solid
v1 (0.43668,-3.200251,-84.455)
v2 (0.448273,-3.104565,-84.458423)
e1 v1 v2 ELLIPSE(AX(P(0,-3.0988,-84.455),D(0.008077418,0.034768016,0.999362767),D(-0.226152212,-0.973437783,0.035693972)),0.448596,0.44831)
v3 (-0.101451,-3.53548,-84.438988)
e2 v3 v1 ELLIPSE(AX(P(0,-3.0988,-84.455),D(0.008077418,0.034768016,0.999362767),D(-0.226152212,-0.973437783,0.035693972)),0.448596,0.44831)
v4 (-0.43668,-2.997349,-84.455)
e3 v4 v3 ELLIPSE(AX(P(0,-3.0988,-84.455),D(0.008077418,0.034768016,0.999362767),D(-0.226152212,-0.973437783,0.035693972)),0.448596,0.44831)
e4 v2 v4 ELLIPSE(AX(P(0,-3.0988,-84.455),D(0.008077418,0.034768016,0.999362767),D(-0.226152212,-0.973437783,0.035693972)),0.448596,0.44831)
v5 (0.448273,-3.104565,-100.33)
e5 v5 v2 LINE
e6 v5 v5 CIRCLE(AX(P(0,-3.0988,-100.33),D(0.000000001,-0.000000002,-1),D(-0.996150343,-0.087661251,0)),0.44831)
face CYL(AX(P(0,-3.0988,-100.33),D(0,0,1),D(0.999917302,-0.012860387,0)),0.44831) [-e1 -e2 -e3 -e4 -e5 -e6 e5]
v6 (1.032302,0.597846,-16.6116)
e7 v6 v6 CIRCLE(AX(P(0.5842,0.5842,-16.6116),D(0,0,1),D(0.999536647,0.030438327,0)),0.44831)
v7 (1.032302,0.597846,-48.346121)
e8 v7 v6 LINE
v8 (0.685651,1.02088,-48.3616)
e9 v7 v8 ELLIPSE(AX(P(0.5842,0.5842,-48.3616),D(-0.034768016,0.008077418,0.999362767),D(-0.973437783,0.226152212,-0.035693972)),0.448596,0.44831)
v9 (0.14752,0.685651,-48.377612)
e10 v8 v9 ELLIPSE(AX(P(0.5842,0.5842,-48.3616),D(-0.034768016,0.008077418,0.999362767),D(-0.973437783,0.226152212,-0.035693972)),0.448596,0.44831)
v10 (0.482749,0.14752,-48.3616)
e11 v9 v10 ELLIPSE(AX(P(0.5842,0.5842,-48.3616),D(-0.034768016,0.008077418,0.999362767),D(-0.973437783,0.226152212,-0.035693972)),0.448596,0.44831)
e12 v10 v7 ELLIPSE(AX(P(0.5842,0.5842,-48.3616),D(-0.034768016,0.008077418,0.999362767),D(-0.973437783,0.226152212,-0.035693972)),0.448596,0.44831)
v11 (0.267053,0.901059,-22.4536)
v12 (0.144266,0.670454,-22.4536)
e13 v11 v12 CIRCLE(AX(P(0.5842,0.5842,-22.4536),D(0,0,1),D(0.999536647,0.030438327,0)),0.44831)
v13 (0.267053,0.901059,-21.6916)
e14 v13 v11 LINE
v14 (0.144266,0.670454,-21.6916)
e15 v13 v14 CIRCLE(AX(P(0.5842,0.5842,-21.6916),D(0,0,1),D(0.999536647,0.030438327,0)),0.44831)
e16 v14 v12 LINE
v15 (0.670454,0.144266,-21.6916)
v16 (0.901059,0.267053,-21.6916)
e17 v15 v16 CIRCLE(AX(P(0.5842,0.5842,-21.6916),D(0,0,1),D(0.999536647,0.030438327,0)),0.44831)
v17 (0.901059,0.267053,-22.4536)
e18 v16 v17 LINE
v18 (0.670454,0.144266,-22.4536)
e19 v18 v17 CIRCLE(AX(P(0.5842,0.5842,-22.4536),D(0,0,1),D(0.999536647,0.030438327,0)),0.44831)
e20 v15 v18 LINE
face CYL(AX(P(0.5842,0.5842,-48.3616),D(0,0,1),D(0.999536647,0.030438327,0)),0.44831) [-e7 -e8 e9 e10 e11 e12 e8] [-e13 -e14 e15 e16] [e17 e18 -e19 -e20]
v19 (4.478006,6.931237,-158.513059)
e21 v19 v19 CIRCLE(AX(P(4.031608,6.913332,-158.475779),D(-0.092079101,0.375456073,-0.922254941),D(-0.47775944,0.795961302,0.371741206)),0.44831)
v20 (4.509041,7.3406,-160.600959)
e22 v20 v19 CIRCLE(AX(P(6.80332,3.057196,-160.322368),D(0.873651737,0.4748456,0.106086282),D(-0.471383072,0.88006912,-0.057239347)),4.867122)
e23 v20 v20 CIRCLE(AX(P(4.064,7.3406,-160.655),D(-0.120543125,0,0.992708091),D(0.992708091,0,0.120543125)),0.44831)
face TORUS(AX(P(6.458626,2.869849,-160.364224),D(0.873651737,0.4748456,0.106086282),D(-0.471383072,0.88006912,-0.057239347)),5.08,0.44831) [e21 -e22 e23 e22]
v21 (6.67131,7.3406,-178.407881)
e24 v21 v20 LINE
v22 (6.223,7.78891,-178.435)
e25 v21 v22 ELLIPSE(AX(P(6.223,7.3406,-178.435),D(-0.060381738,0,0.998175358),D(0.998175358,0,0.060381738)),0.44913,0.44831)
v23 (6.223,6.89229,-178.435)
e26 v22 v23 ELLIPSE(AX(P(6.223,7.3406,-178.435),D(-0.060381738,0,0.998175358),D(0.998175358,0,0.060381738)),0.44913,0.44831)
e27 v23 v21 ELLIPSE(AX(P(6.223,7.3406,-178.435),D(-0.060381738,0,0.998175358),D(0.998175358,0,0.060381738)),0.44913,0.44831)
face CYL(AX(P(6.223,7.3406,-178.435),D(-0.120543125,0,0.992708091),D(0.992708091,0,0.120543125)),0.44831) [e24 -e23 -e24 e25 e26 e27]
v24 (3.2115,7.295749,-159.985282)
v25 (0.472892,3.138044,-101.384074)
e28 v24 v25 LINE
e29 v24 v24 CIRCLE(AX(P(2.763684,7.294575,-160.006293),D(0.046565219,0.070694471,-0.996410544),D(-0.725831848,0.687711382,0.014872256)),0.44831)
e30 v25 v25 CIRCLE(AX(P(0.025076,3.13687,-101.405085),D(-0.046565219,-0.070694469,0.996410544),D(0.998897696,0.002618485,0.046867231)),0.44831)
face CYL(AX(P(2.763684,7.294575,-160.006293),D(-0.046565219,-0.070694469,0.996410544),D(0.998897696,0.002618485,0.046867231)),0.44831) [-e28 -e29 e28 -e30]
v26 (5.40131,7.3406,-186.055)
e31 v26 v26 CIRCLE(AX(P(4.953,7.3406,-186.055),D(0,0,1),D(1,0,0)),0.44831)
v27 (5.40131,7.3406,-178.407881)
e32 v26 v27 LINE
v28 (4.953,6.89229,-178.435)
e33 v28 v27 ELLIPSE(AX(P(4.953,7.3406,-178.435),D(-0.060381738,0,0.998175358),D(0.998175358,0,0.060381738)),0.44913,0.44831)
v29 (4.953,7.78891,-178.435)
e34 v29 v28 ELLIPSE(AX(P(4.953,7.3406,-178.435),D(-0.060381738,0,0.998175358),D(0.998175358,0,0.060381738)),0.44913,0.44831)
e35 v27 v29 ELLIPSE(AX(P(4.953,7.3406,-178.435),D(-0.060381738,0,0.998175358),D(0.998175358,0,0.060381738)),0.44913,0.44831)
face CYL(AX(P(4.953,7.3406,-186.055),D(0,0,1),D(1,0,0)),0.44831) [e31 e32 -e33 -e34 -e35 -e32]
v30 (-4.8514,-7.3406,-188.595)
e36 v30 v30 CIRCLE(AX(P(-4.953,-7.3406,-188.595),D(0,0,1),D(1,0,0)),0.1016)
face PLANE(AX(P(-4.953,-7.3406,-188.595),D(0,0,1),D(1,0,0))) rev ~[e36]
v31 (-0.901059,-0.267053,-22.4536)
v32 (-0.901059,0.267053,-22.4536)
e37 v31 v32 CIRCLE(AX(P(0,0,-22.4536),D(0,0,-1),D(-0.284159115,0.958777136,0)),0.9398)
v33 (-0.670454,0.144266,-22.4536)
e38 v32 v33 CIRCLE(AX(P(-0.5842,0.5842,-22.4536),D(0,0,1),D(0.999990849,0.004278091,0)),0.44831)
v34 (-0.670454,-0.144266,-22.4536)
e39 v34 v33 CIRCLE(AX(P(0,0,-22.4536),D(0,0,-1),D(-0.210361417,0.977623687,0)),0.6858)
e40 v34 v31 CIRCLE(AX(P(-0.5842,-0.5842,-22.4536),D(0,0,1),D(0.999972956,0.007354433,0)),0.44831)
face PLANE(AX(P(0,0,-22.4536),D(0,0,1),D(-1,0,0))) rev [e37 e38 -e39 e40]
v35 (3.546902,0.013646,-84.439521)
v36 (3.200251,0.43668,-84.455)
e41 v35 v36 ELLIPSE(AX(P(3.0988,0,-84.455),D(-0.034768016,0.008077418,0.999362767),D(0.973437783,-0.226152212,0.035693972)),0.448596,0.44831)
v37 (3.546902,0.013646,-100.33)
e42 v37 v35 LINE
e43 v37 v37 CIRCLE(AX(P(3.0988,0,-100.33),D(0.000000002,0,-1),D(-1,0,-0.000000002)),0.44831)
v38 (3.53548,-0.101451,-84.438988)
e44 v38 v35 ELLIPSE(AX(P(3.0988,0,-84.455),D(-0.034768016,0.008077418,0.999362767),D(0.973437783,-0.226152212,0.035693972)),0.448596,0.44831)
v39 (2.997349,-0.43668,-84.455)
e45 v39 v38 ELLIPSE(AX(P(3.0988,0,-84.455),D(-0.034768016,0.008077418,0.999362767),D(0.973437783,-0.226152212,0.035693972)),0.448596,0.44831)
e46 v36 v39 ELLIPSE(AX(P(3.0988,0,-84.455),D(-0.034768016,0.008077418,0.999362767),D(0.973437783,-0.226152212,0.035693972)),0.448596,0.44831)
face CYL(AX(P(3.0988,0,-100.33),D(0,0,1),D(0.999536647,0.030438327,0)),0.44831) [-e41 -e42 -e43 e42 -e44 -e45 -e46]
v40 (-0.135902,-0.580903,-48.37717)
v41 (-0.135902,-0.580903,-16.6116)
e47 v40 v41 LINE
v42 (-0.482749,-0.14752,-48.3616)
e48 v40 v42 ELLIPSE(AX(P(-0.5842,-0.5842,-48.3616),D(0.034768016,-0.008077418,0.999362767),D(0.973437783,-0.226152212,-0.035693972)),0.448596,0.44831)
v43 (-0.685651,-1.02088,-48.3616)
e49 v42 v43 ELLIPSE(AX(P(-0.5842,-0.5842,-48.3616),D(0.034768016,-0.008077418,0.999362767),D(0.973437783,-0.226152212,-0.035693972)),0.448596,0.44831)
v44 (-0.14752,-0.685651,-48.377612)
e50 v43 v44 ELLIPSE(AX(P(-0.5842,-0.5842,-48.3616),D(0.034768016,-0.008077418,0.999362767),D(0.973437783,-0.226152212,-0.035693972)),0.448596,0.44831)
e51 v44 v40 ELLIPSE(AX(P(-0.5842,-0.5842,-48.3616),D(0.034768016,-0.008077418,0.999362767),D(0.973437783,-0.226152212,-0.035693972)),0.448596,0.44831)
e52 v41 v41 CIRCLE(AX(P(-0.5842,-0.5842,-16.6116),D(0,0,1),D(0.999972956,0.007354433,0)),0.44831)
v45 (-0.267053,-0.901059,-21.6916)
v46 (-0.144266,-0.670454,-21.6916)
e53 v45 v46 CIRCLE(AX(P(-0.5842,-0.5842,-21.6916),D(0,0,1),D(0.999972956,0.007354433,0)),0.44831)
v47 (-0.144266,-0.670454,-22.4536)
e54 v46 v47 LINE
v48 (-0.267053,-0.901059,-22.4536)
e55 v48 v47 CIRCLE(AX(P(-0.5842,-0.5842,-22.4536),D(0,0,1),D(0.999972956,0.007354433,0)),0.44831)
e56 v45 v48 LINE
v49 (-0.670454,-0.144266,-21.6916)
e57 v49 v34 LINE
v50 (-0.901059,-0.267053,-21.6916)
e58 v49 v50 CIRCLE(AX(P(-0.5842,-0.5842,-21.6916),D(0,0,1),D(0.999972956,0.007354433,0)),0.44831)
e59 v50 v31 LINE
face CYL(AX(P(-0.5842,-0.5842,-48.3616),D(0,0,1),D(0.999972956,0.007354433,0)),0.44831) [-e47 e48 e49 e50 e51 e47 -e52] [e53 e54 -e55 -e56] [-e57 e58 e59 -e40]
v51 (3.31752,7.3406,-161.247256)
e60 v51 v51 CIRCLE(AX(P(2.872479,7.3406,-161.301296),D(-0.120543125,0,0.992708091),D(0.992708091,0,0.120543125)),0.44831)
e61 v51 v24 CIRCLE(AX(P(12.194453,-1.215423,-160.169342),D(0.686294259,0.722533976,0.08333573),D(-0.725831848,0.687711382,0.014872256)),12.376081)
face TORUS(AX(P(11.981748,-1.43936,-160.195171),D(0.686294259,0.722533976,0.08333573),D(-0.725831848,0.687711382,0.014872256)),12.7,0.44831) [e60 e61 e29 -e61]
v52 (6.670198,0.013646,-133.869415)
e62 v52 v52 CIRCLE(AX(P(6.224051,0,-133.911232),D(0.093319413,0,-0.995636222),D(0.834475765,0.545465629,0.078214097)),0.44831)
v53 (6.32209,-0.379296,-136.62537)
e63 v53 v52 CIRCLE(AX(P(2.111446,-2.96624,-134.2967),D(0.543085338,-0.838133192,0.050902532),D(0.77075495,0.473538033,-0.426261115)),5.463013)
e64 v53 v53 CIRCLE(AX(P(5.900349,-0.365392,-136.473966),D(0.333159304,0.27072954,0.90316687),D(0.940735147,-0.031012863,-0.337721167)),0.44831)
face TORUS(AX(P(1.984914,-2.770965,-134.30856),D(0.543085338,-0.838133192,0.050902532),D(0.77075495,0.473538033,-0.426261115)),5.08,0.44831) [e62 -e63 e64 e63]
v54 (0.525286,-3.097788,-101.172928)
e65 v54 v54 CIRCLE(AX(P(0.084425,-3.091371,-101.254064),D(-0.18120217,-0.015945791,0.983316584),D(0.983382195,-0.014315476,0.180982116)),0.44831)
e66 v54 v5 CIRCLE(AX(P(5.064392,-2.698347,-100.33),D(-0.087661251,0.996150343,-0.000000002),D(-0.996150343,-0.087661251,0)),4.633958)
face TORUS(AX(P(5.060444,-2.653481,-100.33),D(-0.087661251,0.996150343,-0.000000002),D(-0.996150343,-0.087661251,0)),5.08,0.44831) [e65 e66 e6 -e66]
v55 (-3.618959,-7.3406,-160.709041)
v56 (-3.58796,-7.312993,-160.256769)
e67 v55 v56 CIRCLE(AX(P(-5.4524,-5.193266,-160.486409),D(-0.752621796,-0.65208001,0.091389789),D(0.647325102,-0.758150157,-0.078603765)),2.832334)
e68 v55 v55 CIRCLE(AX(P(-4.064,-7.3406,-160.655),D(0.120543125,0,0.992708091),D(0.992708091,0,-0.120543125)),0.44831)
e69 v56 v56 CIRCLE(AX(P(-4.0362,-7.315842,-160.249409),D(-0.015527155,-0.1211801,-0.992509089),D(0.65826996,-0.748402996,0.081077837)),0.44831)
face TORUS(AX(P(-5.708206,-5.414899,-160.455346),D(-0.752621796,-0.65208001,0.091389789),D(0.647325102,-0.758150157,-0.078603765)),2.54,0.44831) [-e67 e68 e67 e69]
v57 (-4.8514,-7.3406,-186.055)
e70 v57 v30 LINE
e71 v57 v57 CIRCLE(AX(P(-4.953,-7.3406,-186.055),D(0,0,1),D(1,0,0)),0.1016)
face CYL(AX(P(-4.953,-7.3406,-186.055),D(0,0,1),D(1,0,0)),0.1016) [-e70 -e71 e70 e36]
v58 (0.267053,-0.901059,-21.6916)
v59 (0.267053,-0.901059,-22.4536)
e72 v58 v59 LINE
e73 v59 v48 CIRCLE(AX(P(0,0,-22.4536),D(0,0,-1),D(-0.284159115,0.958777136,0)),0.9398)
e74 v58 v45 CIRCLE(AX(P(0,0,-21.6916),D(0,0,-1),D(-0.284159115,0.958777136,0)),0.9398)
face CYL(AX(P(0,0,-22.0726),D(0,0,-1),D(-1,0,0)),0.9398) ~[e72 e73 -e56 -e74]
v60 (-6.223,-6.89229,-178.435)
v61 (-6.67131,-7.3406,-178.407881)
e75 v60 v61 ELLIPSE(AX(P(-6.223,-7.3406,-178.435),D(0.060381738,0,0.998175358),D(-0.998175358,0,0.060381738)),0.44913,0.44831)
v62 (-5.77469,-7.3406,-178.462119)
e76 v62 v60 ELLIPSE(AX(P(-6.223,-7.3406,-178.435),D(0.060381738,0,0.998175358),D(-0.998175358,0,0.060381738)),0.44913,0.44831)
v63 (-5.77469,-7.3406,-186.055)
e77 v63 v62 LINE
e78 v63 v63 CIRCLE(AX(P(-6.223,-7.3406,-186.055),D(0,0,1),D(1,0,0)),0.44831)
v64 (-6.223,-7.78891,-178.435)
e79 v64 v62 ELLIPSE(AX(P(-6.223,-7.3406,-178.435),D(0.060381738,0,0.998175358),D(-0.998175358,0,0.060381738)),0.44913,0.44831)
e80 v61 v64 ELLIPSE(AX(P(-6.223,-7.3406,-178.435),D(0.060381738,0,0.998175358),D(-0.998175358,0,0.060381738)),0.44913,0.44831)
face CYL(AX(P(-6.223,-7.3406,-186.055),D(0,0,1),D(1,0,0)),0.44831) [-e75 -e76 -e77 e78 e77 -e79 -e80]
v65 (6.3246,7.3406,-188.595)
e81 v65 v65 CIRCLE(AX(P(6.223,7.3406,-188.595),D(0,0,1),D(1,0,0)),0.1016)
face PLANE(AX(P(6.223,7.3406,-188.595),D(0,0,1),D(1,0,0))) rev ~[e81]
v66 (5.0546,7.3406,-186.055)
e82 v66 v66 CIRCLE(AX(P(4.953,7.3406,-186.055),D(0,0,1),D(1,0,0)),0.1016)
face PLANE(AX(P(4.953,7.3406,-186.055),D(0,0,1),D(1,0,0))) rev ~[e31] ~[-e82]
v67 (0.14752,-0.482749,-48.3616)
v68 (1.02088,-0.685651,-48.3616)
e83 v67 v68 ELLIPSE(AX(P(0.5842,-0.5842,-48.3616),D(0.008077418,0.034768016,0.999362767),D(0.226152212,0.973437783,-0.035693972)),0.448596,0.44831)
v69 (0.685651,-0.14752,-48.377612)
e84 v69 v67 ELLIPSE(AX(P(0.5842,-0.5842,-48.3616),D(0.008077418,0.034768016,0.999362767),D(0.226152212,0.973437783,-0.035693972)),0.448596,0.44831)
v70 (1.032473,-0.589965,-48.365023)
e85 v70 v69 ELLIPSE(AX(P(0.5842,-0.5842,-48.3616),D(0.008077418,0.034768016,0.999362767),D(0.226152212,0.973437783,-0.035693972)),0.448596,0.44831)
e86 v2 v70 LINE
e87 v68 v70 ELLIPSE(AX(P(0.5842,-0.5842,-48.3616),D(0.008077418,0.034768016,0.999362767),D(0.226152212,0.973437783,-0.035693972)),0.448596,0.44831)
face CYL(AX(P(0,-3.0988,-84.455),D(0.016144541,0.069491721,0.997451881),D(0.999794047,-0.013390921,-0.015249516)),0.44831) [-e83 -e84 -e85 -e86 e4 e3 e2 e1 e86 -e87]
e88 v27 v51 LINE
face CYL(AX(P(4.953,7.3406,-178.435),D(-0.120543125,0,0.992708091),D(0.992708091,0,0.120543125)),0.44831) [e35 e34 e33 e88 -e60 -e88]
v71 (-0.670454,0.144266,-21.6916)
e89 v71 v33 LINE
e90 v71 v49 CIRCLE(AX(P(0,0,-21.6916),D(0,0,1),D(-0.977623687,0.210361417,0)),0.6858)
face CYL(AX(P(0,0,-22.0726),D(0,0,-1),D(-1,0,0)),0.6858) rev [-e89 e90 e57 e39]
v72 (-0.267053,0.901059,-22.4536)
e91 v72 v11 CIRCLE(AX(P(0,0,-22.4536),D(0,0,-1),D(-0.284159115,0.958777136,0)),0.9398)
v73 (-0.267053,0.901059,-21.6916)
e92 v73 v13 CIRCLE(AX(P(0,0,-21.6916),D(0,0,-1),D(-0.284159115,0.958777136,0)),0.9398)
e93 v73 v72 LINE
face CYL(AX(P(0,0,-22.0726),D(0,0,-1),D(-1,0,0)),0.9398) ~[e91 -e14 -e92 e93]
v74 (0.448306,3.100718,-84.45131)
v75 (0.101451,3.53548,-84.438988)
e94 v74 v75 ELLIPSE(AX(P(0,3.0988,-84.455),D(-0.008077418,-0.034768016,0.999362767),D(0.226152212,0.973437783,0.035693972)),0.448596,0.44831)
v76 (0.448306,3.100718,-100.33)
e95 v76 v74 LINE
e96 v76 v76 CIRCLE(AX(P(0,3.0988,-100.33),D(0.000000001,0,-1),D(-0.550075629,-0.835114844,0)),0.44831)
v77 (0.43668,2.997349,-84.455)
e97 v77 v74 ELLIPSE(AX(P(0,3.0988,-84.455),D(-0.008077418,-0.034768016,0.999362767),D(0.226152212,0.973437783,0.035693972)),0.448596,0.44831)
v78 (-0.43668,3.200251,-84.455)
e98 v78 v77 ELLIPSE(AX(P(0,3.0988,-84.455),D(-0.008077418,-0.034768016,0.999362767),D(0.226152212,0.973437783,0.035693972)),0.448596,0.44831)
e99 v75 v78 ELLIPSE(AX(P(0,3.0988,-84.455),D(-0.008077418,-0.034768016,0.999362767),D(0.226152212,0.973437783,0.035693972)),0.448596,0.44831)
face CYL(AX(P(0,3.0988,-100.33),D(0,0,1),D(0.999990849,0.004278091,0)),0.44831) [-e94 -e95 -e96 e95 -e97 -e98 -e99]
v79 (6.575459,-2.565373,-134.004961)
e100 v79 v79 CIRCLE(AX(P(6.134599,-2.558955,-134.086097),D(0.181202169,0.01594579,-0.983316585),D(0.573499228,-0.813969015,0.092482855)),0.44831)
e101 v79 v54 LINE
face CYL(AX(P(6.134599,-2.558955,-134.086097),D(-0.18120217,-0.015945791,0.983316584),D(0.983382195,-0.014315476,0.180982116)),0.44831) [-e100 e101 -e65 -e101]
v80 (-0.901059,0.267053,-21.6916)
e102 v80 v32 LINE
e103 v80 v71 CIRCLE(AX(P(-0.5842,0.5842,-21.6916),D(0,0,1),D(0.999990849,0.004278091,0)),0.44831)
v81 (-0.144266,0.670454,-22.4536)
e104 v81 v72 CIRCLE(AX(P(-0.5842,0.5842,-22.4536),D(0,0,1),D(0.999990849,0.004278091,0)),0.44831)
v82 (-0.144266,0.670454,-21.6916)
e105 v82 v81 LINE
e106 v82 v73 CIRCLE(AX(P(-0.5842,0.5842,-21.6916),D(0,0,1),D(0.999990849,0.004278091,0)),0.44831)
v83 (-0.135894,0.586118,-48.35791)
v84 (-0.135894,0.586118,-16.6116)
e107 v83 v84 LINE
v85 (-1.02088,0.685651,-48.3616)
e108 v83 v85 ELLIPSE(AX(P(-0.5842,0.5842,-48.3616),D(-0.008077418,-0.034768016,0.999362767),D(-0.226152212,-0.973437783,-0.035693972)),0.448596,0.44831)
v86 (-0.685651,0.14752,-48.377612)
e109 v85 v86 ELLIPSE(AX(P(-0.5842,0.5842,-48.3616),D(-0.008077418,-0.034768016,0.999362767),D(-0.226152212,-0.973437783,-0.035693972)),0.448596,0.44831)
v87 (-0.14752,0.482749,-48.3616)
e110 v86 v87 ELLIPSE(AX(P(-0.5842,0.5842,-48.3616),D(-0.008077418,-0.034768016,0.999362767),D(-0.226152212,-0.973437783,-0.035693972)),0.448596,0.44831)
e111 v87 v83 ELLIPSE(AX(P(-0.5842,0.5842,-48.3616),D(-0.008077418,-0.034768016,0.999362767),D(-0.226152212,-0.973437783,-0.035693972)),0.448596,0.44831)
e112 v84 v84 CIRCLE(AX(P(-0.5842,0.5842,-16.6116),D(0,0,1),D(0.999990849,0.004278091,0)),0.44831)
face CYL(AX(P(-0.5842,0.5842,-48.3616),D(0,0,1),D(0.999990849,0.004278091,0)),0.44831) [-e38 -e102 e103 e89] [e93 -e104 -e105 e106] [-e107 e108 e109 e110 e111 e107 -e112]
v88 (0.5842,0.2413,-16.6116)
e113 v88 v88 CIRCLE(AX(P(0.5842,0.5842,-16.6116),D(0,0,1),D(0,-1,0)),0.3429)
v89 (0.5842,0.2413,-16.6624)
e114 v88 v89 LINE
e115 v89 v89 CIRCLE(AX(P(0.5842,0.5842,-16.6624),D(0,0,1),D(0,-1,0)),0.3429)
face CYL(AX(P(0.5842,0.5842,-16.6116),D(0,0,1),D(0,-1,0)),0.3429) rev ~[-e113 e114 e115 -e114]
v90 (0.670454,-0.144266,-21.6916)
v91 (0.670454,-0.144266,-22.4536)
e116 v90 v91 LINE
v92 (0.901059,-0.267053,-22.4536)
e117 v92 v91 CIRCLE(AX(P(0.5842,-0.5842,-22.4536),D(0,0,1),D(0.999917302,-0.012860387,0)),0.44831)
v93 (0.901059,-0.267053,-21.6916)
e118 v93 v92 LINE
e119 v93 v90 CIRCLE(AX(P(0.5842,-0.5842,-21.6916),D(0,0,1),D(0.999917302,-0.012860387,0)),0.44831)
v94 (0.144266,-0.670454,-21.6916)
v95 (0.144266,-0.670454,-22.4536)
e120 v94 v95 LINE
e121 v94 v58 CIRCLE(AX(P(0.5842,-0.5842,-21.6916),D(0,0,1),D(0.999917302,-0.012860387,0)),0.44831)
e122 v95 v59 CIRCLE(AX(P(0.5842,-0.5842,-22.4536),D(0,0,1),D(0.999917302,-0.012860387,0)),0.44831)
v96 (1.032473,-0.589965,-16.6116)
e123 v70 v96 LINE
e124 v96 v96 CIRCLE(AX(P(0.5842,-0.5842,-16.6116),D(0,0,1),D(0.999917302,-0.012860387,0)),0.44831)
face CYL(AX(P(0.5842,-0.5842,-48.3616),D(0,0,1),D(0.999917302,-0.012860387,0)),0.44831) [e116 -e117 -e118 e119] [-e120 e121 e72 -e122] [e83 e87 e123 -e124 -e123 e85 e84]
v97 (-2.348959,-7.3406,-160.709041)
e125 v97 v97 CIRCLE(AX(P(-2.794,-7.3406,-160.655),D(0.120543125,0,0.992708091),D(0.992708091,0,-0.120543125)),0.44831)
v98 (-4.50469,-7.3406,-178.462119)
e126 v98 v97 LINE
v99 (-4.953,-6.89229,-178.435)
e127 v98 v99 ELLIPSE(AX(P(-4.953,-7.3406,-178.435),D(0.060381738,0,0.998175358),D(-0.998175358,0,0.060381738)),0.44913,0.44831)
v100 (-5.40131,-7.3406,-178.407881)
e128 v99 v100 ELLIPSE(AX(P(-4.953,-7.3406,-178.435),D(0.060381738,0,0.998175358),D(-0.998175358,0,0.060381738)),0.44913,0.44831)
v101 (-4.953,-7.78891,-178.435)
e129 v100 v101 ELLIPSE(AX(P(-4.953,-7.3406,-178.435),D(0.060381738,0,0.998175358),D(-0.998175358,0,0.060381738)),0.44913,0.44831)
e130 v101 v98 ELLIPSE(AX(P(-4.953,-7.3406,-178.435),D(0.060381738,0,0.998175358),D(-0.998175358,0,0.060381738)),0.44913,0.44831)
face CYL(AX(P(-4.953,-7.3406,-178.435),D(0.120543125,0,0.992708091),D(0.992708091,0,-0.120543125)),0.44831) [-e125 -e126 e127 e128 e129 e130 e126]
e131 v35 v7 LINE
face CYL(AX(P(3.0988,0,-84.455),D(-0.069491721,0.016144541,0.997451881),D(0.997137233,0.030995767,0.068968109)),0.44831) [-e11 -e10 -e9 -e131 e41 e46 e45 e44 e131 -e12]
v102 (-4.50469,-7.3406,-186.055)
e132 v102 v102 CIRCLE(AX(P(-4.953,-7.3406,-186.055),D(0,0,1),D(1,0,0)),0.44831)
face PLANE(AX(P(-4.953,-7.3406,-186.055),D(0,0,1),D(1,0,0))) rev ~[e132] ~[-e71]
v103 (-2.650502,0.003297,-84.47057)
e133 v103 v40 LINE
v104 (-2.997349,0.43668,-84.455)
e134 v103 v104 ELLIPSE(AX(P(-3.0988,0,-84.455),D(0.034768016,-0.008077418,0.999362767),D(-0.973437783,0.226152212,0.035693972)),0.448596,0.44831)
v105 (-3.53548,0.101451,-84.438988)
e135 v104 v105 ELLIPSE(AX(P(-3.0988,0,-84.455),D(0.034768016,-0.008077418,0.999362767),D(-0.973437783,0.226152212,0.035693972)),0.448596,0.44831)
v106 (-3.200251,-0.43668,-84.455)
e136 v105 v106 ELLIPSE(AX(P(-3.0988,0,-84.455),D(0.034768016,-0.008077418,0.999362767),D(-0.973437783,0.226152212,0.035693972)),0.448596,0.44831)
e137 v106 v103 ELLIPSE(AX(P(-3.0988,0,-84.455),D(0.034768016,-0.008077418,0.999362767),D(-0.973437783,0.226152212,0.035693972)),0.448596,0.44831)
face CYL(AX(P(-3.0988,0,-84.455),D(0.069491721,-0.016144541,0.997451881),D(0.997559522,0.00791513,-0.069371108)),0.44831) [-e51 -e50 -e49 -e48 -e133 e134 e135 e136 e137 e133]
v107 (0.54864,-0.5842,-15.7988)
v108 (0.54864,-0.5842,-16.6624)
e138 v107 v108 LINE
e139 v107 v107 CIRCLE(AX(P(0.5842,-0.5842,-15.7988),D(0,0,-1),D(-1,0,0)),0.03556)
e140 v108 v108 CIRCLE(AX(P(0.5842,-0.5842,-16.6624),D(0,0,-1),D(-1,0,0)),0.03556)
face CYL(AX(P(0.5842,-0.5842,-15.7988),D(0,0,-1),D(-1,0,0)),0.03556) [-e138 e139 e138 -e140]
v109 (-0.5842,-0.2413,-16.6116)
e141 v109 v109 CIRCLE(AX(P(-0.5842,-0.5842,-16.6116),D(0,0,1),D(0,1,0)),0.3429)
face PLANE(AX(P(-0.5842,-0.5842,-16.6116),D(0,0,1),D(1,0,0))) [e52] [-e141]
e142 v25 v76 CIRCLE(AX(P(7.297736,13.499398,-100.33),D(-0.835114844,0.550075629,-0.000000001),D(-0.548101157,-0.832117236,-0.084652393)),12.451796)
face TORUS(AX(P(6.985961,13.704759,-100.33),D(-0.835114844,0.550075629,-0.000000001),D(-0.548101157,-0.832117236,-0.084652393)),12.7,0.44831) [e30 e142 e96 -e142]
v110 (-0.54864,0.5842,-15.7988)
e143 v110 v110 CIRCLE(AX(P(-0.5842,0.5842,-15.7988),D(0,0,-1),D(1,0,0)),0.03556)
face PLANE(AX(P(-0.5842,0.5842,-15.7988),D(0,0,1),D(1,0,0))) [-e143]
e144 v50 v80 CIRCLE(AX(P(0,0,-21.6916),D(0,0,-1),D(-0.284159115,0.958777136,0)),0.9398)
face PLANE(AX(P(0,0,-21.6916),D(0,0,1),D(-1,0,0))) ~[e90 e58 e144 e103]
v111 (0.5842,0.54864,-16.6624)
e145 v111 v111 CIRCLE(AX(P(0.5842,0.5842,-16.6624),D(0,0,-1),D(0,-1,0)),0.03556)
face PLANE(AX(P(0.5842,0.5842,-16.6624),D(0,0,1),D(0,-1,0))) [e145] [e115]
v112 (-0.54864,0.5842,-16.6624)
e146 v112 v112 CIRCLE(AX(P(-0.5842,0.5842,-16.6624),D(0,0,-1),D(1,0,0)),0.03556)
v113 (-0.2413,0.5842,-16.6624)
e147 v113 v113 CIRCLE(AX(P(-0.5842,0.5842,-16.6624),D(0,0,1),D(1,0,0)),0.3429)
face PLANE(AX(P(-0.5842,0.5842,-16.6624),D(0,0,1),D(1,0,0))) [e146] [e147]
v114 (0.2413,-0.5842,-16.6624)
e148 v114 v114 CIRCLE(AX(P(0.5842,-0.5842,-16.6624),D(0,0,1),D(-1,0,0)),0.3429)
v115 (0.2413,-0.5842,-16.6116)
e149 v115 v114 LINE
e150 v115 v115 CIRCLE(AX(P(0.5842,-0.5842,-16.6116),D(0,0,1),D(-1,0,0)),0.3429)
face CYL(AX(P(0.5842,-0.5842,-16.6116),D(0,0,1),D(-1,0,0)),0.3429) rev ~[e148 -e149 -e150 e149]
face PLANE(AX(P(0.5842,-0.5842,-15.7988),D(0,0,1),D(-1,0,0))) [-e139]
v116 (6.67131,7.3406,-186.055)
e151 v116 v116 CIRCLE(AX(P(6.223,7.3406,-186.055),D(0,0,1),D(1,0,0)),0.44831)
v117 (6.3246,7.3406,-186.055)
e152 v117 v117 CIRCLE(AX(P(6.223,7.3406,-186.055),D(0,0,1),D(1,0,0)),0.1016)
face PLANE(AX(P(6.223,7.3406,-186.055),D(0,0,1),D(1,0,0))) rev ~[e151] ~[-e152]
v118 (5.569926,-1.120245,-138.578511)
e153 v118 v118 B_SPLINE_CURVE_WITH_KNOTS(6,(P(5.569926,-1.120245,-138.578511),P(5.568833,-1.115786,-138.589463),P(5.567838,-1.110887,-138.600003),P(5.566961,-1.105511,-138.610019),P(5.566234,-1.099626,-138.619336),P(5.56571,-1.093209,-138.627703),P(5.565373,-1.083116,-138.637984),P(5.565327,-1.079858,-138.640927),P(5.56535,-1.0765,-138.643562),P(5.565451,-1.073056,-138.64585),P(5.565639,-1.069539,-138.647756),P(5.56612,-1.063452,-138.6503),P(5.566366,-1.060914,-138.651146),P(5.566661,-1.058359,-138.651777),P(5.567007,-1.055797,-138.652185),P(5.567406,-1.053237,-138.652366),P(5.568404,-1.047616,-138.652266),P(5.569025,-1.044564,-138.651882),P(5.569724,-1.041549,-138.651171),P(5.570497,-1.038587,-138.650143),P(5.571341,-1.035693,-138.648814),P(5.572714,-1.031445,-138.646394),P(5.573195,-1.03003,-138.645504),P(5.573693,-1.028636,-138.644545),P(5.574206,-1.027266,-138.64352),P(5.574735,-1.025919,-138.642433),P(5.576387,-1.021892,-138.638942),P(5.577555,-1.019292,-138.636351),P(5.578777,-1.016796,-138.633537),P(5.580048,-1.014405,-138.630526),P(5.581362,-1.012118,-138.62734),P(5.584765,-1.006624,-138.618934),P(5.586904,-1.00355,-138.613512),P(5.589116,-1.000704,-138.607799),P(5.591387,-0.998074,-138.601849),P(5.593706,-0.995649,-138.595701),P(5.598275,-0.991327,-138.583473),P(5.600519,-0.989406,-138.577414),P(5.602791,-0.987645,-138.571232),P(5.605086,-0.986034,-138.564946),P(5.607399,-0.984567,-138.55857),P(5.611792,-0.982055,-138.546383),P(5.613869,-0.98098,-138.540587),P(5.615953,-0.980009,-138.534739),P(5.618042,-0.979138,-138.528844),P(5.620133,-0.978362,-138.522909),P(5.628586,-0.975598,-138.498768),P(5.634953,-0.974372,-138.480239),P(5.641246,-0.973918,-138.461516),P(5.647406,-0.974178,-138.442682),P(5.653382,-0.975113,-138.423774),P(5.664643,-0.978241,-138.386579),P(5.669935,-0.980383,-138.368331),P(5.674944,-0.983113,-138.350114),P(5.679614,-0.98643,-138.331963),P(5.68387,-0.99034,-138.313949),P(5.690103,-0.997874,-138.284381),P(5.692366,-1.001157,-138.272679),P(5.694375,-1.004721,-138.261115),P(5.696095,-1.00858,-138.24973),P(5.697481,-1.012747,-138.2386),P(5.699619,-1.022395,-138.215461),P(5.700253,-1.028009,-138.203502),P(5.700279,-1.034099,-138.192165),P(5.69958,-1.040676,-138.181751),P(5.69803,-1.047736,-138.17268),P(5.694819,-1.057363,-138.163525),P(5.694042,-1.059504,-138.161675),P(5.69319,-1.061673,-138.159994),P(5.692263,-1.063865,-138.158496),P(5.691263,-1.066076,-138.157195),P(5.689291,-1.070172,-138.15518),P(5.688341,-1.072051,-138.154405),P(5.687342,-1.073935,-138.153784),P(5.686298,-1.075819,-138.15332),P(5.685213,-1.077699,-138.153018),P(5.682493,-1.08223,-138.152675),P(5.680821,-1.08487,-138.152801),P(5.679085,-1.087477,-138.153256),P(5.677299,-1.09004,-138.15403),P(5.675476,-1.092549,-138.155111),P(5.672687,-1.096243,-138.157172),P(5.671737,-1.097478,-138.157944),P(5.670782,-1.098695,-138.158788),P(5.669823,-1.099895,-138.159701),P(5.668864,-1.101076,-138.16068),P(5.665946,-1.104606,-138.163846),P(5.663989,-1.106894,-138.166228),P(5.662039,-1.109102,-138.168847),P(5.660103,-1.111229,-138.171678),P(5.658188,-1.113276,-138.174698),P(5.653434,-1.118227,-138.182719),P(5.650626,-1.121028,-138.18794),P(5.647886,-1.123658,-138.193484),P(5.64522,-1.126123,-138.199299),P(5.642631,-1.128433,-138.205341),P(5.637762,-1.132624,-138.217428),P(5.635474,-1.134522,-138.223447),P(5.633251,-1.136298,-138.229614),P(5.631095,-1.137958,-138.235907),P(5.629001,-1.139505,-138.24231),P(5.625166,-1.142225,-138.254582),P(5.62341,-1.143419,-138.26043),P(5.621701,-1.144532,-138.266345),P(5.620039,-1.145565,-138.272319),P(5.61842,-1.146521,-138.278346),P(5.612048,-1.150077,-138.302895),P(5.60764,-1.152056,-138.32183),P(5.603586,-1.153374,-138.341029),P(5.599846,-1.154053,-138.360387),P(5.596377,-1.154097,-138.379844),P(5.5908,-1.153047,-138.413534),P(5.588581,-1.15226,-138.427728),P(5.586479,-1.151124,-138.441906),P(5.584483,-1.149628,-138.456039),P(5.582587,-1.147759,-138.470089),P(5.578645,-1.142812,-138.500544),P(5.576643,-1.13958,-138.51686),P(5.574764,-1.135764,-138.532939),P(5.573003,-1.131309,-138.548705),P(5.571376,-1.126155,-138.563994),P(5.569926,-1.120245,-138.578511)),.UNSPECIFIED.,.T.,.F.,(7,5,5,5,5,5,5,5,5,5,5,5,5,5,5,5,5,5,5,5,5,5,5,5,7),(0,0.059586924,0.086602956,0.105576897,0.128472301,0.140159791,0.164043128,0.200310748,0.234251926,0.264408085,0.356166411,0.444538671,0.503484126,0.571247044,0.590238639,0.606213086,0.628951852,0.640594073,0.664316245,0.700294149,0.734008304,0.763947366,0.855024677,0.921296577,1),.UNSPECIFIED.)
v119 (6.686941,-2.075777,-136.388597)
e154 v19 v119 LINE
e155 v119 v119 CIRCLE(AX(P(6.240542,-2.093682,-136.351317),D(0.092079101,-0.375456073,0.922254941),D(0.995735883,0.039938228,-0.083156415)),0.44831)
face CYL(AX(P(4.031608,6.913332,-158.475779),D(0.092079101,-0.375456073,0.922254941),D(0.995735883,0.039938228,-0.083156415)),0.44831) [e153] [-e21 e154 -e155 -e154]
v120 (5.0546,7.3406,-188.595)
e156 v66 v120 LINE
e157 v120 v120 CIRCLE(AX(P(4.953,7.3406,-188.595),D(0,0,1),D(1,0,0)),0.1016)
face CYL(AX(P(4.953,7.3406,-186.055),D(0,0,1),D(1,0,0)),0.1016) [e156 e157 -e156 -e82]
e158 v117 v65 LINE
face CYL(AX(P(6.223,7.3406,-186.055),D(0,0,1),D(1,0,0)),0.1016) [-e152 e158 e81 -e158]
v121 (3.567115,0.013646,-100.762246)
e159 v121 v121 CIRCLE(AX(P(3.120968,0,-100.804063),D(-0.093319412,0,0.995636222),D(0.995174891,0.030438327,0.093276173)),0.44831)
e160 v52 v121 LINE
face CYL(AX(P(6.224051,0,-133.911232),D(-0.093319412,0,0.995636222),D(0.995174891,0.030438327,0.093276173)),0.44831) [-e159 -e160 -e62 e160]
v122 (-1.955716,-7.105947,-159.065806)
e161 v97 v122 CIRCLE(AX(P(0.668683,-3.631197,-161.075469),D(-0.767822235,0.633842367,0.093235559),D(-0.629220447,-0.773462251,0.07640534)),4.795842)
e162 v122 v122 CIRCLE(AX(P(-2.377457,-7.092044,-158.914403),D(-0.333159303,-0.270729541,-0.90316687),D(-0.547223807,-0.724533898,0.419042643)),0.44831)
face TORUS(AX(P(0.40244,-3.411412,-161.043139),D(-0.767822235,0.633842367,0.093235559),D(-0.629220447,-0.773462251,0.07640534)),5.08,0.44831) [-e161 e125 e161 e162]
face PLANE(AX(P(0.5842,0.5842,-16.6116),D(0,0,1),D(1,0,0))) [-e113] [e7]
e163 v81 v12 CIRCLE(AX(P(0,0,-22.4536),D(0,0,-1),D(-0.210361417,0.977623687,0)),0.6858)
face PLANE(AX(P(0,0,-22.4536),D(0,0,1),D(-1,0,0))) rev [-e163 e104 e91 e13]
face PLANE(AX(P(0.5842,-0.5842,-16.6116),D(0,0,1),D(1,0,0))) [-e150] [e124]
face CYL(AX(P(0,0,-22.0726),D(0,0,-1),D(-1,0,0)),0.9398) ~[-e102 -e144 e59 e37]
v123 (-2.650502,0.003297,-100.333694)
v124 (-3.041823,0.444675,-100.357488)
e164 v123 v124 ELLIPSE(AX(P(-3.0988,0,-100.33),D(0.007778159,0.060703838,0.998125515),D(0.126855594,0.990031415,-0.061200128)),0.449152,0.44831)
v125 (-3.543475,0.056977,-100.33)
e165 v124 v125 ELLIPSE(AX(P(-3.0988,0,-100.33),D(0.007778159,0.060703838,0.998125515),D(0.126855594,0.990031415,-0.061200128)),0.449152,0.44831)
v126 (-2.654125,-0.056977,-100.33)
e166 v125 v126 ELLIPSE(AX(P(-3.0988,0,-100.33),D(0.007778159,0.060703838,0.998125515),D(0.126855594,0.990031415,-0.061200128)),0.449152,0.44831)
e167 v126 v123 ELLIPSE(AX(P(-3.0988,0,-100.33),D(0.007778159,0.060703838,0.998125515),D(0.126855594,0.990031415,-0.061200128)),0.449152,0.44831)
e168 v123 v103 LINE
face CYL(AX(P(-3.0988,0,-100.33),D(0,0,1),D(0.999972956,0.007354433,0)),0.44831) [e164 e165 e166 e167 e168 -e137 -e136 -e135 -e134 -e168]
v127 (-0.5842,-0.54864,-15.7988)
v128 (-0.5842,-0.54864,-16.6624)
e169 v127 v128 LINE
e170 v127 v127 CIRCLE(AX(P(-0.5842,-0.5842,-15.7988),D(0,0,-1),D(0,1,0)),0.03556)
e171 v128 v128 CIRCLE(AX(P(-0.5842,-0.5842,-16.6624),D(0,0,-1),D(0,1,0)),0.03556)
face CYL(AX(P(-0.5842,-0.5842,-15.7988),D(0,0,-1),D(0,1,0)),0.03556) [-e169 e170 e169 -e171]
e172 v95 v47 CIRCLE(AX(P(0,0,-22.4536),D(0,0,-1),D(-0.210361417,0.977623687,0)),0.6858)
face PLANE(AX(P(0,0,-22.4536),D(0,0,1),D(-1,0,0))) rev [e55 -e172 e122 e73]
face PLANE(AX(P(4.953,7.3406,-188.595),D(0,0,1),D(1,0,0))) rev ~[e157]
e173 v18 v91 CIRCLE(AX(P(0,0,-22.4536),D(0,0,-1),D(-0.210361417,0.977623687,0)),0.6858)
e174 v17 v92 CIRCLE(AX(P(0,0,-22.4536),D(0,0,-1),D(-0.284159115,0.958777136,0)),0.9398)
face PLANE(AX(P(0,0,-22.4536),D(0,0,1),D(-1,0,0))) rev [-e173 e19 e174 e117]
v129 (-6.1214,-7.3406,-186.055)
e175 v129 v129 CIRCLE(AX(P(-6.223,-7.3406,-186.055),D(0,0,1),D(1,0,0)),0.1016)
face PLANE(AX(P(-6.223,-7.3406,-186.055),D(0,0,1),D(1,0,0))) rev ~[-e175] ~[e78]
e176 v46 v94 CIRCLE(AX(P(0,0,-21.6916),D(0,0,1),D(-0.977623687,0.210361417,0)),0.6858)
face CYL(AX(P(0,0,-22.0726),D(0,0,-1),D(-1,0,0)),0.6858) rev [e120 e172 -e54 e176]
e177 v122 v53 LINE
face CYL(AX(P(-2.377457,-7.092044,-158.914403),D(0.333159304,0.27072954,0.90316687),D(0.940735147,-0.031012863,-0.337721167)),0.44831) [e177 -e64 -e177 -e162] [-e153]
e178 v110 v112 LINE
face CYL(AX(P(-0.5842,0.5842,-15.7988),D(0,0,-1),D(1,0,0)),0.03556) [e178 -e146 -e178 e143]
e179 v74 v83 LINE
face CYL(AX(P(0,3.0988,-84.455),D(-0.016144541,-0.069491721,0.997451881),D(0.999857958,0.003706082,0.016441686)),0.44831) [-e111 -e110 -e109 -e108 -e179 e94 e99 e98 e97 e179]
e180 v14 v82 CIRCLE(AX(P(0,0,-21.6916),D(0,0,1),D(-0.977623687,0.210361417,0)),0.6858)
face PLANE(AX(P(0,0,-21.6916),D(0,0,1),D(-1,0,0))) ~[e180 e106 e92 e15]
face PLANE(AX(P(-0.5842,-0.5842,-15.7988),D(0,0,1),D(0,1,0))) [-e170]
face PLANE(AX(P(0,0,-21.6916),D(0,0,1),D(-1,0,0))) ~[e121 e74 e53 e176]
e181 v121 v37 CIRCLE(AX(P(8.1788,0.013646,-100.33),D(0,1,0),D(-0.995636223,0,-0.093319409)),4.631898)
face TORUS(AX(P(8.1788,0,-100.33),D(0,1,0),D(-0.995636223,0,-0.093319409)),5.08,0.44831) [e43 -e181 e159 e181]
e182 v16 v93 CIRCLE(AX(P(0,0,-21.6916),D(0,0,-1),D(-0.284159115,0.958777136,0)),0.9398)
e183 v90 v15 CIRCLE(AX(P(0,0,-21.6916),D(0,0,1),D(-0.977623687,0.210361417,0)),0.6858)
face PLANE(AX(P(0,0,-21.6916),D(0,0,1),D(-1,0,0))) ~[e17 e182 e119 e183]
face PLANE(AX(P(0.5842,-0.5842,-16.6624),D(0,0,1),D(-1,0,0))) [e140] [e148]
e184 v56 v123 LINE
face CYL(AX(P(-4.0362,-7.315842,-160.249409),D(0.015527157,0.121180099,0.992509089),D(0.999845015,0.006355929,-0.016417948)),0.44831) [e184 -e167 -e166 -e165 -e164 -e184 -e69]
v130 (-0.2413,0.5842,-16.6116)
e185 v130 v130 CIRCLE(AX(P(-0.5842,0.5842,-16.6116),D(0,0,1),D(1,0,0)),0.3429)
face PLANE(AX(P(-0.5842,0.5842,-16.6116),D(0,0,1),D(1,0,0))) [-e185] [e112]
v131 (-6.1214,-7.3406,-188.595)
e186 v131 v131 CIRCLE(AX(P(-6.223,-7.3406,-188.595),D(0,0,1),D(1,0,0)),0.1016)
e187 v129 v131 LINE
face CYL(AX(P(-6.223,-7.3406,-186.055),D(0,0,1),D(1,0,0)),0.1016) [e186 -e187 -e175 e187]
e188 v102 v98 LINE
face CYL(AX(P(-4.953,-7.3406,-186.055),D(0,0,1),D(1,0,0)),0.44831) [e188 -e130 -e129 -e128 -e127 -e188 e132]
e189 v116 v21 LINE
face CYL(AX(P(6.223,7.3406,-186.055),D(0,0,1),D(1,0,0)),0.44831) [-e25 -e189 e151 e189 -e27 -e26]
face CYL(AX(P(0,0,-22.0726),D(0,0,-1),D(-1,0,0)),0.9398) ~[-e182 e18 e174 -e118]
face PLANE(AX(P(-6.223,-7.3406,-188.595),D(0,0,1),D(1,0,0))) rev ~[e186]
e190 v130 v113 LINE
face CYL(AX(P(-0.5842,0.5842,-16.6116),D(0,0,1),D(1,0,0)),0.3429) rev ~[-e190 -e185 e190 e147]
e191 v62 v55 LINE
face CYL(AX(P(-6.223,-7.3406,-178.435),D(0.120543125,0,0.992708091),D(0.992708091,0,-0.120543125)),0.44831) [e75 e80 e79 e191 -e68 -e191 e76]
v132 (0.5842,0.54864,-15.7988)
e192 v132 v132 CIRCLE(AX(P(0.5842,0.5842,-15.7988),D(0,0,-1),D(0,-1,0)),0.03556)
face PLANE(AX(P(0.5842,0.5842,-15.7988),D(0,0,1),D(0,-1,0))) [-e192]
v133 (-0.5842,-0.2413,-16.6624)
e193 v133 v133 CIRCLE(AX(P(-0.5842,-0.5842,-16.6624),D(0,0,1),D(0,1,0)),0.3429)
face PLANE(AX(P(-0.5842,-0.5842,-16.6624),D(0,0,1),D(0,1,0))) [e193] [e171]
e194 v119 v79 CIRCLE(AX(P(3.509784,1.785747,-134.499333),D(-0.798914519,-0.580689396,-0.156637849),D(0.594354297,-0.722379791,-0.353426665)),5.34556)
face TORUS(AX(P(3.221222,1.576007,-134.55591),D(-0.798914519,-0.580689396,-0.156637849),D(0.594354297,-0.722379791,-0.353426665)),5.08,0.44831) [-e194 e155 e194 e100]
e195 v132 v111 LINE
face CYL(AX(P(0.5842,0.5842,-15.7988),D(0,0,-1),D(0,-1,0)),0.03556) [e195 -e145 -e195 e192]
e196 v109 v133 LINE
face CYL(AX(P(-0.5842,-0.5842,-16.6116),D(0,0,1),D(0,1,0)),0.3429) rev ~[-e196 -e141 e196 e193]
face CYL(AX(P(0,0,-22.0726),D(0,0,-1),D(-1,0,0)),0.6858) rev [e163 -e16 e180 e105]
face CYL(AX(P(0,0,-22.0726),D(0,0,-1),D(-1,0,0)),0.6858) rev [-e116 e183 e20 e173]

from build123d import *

# Parameters (mm, degrees)
SKETCH3_W         = 0.762
SKETCH3_H         = 0.254
SKETCH4_R         = 0.44831
SKETCH8_R         = 0.44831
SKETCH9_R         = 0.44831
SKETCH10_R        = 0.44831
SKETCH5_R         = 0.1016
PIN_LNA_END_DEPTH = 2.54
SKETCH15_R        = 0.3429
EXTRUDE1_DEPTH    = 0.0508
CIRPATTERN3_COUNT = 4
SKETCH12_R        = 0.03556
CIRPATTERN1_COUNT = 4


with BuildPart() as part:
    # Sketch3 → Revolve1 (revolve)
    with BuildSketch(Plane(origin=(0, 0, 0), x_dir=(0, 0, -1), z_dir=(1, 0, 0)), mode=Mode.PRIVATE) as revolve1_sk:
        with Locations((22.0726, 0.8128)):
            Rectangle(SKETCH3_W, SKETCH3_H)
    revolve(revolve1_sk.sketch.rotate(Axis((0, 0, -48.3616), (0, 0, 1)), 90), axis=Axis((0, 0, -48.3616), (0, 0, 1)))



with BuildPart() as body_2:
    # SW-00 Coax Jacket X Upper: sweep along a curve in space
    with BuildLine() as sw_00_coax_jacket_x_upper_path:
        Line((4.953, 7.3406, -186.055), (4.953, 7.3406, -178.435))
        Line((4.953, 7.3406, -178.435), (2.872478847, 7.3406, -161.301296391))
        ThreePointArc((2.763684005, 7.294574808, -160.006293151), (2.806048613, 7.329086153, -160.65439699), (2.872478847, 7.3406, -161.301296391))
        Line((2.763684005, 7.294574808, -160.006293151), (0.025075798, 3.13686962, -101.405085392))
        ThreePointArc((0.025075798, 3.13686962, -101.405085392), (0.006271765, 3.108321679, -100.868025718), (0, 3.0988, -100.33))
        Line((0, 3.0988, -100.33), (0, 3.0988, -84.455))
        Line((0, 3.0988, -84.455), (-0.5842, 0.5842, -48.3616))
        Line((-0.5842, 0.5842, -48.3616), (-0.5842, 0.5842, -16.6116))
    # Sketch4 → SW-00 Coax Jacket X Upper (sweep)
    with BuildSketch(Plane.XY.offset(-186.055)):
        with Locations((4.953, 7.3406)):
            Circle(SKETCH4_R)
    sweep(path=sw_00_coax_jacket_x_upper_path.line, transition=Transition.RIGHT)


with BuildPart() as part_1:
    add(part.part)

    add(body_2.part)  # SW-00 Coax Jacket X Lower merges body 2
    # SW-00 Coax Jacket X Lower: sweep along a curve in space
    with BuildLine() as sw_00_coax_jacket_x_lower_path:
        Line((6.223, 7.3406, -186.055), (6.223, 7.3406, -178.435))
        Line((6.223, 7.3406, -178.435), (4.064, 7.3406, -160.655))
        ThreePointArc((4.064, 7.3406, -160.655), (3.988053628, 7.232475572, -159.545590881), (4.031608054, 6.913332282, -158.475778791))
        Line((4.031608054, 6.913332282, -158.475778791), (6.240542312, -2.093682069, -136.351317112))
        ThreePointArc((6.240542312, -2.093682069, -136.351317112), (6.267702876, -2.431735493, -135.236611628), (6.134598563, -2.558955326, -134.08609675))
        Line((6.134598563, -2.558955326, -134.08609675), (0.084425486, -3.091370557, -101.254064355))
        ThreePointArc((0, -3.0988, -100.33), (0.021150572, -3.09693875, -100.793971387), (0.084425486, -3.091370557, -101.254064355))
        Line((0, -3.0988, -100.33), (0, -3.0988, -84.455))
        Line((0, -3.0988, -84.455), (0.5842, -0.5842, -48.3616))
        Line((0.5842, -0.5842, -48.3616), (0.5842, -0.5842, -16.6116))
    # Sketch8 → SW-00 Coax Jacket X Lower (sweep)
    with BuildSketch(Plane.XY.offset(-186.055)):
        with Locations((6.223, 7.3406)):
            Circle(SKETCH8_R)
    sweep(path=sw_00_coax_jacket_x_lower_path.line, transition=Transition.RIGHT)

    # Sweep3: sweep along a curve in space
    with BuildLine() as sweep3_path:
        Line((-6.223, -7.3406, -186.055), (-6.223, -7.3406, -178.435))
        Line((-6.223, -7.3406, -178.435), (-4.064, -7.3406, -160.655))
        ThreePointArc((-4.064, -7.3406, -160.655), (-4.044744837, -7.334400574, -160.452194223), (-4.036200061, -7.315842211, -160.249408743))
        Line((-4.036200061, -7.315842211, -160.249408743), (-3.0988, 0, -100.33))
        Line((-3.0988, 0, -100.33), (-3.0988, 0, -84.455))
        Line((-3.0988, 0, -84.455), (-0.5842, -0.5842, -48.3616))
        Line((-0.5842, -0.5842, -48.3616), (-0.5842, -0.5842, -16.6116))
    # Sketch9 → Sweep3 (sweep)
    with BuildSketch(Plane.XY.offset(-186.055)):
        with Locations((-6.223, -7.3406)):
            Circle(SKETCH9_R)
    sweep(path=sweep3_path.line, transition=Transition.RIGHT)

    # Sweep4: sweep along a curve in space
    with BuildLine() as sweep4_path:
        Line((-4.953, -7.3406, -186.055), (-4.953, -7.3406, -178.435))
        Line((-4.953, -7.3406, -178.435), (-2.794, -7.3406, -160.655))
        ThreePointArc((-2.794, -7.3406, -160.655), (-2.634137004, -7.277961709, -159.764314499), (-2.377457069, -7.092043967, -158.914402504))
        Line((-2.377457069, -7.092043967, -158.914402504), (5.900349004, -0.365392188, -136.473966054))
        ThreePointArc((5.900349004, -0.365392188, -136.473966054), (6.20364645, -0.092905525, -135.223267542), (6.224050743, 0, -133.911231978))
        Line((6.224050743, 0, -133.911231978), (3.12096799, 0, -100.804062615))
        ThreePointArc((3.12096799, 0, -100.804062615), (3.104345024, 0, -100.567290319), (3.0988, 0, -100.33))
        Line((3.0988, 0, -100.33), (3.0988, 0, -84.455))
        Line((3.0988, 0, -84.455), (0.5842, 0.5842, -48.3616))
        Line((0.5842, 0.5842, -48.3616), (0.5842, 0.5842, -16.6116))
    # Sketch10 → Sweep4 (sweep)
    with BuildSketch(Plane.XY.offset(-186.055)):
        with Locations((-4.953, -7.3406)):
            Circle(SKETCH10_R)
    sweep(path=sweep4_path.line, transition=Transition.RIGHT)

    # Sketch5 → Pin LNA End (add)
    with BuildSketch(Plane.XY.offset(-186.055)):
        with Locations((4.953, 7.3406)):
            Circle(SKETCH5_R)
        with Locations((6.223, 7.3406)):
            Circle(SKETCH5_R)
        with Locations((-4.953, -7.3406)):
            Circle(SKETCH5_R)
        with Locations((-6.223, -7.3406)):
            Circle(SKETCH5_R)
    extrude(amount=-PIN_LNA_END_DEPTH)

    # Sketch15 → Extrude1 (cut)
    with BuildSketch(Plane.XY.offset(-16.6116)):
        with Locations((-0.5842, 0.5842)):
            Circle(SKETCH15_R)
    extrude1 = extrude(amount=-EXTRUDE1_DEPTH, mode=Mode.SUBTRACT)

    # CirPattern3: Extrude1 ×4 about axis
    cirpattern3_axis = Axis((0, 0, 0), (0, 0, 1))
    for i in range(1, CIRPATTERN3_COUNT):
        add(extrude1.rotate(cirpattern3_axis, i * 360 / CIRPATTERN3_COUNT), mode=Mode.SUBTRACT)

    # Sweep5: sweep along a path in Sketch11
    with BuildLine(Plane(origin=(0, 0, 0), x_dir=(0, 0, -1), z_dir=(0.7071067811865459, 0.7071067811865491, 0))) as sweep5_path:
        Line((15.7988, 0.826183563), (16.6116, 0.826183563))
        Line((16.6116, 0.826183563), (17.229183431, 0.826183563))
    # Sketch12 → Sweep5 (sweep)
    with BuildSketch(Plane.XY.offset(-16.6624)):
        with Locations((-0.5842, 0.5842)):
            Circle(SKETCH12_R)
    sweep5 = sweep(path=sweep5_path.line)

    # CirPattern1: Sweep5 ×4 about axis
    cirpattern1_axis = Axis((0, 0, 4.39213043), (0, 0, -1))
    for i in range(1, CIRPATTERN1_COUNT):
        add(sweep5.rotate(cirpattern1_axis, i * 360 / CIRPATTERN1_COUNT))


solid = part_1.part
